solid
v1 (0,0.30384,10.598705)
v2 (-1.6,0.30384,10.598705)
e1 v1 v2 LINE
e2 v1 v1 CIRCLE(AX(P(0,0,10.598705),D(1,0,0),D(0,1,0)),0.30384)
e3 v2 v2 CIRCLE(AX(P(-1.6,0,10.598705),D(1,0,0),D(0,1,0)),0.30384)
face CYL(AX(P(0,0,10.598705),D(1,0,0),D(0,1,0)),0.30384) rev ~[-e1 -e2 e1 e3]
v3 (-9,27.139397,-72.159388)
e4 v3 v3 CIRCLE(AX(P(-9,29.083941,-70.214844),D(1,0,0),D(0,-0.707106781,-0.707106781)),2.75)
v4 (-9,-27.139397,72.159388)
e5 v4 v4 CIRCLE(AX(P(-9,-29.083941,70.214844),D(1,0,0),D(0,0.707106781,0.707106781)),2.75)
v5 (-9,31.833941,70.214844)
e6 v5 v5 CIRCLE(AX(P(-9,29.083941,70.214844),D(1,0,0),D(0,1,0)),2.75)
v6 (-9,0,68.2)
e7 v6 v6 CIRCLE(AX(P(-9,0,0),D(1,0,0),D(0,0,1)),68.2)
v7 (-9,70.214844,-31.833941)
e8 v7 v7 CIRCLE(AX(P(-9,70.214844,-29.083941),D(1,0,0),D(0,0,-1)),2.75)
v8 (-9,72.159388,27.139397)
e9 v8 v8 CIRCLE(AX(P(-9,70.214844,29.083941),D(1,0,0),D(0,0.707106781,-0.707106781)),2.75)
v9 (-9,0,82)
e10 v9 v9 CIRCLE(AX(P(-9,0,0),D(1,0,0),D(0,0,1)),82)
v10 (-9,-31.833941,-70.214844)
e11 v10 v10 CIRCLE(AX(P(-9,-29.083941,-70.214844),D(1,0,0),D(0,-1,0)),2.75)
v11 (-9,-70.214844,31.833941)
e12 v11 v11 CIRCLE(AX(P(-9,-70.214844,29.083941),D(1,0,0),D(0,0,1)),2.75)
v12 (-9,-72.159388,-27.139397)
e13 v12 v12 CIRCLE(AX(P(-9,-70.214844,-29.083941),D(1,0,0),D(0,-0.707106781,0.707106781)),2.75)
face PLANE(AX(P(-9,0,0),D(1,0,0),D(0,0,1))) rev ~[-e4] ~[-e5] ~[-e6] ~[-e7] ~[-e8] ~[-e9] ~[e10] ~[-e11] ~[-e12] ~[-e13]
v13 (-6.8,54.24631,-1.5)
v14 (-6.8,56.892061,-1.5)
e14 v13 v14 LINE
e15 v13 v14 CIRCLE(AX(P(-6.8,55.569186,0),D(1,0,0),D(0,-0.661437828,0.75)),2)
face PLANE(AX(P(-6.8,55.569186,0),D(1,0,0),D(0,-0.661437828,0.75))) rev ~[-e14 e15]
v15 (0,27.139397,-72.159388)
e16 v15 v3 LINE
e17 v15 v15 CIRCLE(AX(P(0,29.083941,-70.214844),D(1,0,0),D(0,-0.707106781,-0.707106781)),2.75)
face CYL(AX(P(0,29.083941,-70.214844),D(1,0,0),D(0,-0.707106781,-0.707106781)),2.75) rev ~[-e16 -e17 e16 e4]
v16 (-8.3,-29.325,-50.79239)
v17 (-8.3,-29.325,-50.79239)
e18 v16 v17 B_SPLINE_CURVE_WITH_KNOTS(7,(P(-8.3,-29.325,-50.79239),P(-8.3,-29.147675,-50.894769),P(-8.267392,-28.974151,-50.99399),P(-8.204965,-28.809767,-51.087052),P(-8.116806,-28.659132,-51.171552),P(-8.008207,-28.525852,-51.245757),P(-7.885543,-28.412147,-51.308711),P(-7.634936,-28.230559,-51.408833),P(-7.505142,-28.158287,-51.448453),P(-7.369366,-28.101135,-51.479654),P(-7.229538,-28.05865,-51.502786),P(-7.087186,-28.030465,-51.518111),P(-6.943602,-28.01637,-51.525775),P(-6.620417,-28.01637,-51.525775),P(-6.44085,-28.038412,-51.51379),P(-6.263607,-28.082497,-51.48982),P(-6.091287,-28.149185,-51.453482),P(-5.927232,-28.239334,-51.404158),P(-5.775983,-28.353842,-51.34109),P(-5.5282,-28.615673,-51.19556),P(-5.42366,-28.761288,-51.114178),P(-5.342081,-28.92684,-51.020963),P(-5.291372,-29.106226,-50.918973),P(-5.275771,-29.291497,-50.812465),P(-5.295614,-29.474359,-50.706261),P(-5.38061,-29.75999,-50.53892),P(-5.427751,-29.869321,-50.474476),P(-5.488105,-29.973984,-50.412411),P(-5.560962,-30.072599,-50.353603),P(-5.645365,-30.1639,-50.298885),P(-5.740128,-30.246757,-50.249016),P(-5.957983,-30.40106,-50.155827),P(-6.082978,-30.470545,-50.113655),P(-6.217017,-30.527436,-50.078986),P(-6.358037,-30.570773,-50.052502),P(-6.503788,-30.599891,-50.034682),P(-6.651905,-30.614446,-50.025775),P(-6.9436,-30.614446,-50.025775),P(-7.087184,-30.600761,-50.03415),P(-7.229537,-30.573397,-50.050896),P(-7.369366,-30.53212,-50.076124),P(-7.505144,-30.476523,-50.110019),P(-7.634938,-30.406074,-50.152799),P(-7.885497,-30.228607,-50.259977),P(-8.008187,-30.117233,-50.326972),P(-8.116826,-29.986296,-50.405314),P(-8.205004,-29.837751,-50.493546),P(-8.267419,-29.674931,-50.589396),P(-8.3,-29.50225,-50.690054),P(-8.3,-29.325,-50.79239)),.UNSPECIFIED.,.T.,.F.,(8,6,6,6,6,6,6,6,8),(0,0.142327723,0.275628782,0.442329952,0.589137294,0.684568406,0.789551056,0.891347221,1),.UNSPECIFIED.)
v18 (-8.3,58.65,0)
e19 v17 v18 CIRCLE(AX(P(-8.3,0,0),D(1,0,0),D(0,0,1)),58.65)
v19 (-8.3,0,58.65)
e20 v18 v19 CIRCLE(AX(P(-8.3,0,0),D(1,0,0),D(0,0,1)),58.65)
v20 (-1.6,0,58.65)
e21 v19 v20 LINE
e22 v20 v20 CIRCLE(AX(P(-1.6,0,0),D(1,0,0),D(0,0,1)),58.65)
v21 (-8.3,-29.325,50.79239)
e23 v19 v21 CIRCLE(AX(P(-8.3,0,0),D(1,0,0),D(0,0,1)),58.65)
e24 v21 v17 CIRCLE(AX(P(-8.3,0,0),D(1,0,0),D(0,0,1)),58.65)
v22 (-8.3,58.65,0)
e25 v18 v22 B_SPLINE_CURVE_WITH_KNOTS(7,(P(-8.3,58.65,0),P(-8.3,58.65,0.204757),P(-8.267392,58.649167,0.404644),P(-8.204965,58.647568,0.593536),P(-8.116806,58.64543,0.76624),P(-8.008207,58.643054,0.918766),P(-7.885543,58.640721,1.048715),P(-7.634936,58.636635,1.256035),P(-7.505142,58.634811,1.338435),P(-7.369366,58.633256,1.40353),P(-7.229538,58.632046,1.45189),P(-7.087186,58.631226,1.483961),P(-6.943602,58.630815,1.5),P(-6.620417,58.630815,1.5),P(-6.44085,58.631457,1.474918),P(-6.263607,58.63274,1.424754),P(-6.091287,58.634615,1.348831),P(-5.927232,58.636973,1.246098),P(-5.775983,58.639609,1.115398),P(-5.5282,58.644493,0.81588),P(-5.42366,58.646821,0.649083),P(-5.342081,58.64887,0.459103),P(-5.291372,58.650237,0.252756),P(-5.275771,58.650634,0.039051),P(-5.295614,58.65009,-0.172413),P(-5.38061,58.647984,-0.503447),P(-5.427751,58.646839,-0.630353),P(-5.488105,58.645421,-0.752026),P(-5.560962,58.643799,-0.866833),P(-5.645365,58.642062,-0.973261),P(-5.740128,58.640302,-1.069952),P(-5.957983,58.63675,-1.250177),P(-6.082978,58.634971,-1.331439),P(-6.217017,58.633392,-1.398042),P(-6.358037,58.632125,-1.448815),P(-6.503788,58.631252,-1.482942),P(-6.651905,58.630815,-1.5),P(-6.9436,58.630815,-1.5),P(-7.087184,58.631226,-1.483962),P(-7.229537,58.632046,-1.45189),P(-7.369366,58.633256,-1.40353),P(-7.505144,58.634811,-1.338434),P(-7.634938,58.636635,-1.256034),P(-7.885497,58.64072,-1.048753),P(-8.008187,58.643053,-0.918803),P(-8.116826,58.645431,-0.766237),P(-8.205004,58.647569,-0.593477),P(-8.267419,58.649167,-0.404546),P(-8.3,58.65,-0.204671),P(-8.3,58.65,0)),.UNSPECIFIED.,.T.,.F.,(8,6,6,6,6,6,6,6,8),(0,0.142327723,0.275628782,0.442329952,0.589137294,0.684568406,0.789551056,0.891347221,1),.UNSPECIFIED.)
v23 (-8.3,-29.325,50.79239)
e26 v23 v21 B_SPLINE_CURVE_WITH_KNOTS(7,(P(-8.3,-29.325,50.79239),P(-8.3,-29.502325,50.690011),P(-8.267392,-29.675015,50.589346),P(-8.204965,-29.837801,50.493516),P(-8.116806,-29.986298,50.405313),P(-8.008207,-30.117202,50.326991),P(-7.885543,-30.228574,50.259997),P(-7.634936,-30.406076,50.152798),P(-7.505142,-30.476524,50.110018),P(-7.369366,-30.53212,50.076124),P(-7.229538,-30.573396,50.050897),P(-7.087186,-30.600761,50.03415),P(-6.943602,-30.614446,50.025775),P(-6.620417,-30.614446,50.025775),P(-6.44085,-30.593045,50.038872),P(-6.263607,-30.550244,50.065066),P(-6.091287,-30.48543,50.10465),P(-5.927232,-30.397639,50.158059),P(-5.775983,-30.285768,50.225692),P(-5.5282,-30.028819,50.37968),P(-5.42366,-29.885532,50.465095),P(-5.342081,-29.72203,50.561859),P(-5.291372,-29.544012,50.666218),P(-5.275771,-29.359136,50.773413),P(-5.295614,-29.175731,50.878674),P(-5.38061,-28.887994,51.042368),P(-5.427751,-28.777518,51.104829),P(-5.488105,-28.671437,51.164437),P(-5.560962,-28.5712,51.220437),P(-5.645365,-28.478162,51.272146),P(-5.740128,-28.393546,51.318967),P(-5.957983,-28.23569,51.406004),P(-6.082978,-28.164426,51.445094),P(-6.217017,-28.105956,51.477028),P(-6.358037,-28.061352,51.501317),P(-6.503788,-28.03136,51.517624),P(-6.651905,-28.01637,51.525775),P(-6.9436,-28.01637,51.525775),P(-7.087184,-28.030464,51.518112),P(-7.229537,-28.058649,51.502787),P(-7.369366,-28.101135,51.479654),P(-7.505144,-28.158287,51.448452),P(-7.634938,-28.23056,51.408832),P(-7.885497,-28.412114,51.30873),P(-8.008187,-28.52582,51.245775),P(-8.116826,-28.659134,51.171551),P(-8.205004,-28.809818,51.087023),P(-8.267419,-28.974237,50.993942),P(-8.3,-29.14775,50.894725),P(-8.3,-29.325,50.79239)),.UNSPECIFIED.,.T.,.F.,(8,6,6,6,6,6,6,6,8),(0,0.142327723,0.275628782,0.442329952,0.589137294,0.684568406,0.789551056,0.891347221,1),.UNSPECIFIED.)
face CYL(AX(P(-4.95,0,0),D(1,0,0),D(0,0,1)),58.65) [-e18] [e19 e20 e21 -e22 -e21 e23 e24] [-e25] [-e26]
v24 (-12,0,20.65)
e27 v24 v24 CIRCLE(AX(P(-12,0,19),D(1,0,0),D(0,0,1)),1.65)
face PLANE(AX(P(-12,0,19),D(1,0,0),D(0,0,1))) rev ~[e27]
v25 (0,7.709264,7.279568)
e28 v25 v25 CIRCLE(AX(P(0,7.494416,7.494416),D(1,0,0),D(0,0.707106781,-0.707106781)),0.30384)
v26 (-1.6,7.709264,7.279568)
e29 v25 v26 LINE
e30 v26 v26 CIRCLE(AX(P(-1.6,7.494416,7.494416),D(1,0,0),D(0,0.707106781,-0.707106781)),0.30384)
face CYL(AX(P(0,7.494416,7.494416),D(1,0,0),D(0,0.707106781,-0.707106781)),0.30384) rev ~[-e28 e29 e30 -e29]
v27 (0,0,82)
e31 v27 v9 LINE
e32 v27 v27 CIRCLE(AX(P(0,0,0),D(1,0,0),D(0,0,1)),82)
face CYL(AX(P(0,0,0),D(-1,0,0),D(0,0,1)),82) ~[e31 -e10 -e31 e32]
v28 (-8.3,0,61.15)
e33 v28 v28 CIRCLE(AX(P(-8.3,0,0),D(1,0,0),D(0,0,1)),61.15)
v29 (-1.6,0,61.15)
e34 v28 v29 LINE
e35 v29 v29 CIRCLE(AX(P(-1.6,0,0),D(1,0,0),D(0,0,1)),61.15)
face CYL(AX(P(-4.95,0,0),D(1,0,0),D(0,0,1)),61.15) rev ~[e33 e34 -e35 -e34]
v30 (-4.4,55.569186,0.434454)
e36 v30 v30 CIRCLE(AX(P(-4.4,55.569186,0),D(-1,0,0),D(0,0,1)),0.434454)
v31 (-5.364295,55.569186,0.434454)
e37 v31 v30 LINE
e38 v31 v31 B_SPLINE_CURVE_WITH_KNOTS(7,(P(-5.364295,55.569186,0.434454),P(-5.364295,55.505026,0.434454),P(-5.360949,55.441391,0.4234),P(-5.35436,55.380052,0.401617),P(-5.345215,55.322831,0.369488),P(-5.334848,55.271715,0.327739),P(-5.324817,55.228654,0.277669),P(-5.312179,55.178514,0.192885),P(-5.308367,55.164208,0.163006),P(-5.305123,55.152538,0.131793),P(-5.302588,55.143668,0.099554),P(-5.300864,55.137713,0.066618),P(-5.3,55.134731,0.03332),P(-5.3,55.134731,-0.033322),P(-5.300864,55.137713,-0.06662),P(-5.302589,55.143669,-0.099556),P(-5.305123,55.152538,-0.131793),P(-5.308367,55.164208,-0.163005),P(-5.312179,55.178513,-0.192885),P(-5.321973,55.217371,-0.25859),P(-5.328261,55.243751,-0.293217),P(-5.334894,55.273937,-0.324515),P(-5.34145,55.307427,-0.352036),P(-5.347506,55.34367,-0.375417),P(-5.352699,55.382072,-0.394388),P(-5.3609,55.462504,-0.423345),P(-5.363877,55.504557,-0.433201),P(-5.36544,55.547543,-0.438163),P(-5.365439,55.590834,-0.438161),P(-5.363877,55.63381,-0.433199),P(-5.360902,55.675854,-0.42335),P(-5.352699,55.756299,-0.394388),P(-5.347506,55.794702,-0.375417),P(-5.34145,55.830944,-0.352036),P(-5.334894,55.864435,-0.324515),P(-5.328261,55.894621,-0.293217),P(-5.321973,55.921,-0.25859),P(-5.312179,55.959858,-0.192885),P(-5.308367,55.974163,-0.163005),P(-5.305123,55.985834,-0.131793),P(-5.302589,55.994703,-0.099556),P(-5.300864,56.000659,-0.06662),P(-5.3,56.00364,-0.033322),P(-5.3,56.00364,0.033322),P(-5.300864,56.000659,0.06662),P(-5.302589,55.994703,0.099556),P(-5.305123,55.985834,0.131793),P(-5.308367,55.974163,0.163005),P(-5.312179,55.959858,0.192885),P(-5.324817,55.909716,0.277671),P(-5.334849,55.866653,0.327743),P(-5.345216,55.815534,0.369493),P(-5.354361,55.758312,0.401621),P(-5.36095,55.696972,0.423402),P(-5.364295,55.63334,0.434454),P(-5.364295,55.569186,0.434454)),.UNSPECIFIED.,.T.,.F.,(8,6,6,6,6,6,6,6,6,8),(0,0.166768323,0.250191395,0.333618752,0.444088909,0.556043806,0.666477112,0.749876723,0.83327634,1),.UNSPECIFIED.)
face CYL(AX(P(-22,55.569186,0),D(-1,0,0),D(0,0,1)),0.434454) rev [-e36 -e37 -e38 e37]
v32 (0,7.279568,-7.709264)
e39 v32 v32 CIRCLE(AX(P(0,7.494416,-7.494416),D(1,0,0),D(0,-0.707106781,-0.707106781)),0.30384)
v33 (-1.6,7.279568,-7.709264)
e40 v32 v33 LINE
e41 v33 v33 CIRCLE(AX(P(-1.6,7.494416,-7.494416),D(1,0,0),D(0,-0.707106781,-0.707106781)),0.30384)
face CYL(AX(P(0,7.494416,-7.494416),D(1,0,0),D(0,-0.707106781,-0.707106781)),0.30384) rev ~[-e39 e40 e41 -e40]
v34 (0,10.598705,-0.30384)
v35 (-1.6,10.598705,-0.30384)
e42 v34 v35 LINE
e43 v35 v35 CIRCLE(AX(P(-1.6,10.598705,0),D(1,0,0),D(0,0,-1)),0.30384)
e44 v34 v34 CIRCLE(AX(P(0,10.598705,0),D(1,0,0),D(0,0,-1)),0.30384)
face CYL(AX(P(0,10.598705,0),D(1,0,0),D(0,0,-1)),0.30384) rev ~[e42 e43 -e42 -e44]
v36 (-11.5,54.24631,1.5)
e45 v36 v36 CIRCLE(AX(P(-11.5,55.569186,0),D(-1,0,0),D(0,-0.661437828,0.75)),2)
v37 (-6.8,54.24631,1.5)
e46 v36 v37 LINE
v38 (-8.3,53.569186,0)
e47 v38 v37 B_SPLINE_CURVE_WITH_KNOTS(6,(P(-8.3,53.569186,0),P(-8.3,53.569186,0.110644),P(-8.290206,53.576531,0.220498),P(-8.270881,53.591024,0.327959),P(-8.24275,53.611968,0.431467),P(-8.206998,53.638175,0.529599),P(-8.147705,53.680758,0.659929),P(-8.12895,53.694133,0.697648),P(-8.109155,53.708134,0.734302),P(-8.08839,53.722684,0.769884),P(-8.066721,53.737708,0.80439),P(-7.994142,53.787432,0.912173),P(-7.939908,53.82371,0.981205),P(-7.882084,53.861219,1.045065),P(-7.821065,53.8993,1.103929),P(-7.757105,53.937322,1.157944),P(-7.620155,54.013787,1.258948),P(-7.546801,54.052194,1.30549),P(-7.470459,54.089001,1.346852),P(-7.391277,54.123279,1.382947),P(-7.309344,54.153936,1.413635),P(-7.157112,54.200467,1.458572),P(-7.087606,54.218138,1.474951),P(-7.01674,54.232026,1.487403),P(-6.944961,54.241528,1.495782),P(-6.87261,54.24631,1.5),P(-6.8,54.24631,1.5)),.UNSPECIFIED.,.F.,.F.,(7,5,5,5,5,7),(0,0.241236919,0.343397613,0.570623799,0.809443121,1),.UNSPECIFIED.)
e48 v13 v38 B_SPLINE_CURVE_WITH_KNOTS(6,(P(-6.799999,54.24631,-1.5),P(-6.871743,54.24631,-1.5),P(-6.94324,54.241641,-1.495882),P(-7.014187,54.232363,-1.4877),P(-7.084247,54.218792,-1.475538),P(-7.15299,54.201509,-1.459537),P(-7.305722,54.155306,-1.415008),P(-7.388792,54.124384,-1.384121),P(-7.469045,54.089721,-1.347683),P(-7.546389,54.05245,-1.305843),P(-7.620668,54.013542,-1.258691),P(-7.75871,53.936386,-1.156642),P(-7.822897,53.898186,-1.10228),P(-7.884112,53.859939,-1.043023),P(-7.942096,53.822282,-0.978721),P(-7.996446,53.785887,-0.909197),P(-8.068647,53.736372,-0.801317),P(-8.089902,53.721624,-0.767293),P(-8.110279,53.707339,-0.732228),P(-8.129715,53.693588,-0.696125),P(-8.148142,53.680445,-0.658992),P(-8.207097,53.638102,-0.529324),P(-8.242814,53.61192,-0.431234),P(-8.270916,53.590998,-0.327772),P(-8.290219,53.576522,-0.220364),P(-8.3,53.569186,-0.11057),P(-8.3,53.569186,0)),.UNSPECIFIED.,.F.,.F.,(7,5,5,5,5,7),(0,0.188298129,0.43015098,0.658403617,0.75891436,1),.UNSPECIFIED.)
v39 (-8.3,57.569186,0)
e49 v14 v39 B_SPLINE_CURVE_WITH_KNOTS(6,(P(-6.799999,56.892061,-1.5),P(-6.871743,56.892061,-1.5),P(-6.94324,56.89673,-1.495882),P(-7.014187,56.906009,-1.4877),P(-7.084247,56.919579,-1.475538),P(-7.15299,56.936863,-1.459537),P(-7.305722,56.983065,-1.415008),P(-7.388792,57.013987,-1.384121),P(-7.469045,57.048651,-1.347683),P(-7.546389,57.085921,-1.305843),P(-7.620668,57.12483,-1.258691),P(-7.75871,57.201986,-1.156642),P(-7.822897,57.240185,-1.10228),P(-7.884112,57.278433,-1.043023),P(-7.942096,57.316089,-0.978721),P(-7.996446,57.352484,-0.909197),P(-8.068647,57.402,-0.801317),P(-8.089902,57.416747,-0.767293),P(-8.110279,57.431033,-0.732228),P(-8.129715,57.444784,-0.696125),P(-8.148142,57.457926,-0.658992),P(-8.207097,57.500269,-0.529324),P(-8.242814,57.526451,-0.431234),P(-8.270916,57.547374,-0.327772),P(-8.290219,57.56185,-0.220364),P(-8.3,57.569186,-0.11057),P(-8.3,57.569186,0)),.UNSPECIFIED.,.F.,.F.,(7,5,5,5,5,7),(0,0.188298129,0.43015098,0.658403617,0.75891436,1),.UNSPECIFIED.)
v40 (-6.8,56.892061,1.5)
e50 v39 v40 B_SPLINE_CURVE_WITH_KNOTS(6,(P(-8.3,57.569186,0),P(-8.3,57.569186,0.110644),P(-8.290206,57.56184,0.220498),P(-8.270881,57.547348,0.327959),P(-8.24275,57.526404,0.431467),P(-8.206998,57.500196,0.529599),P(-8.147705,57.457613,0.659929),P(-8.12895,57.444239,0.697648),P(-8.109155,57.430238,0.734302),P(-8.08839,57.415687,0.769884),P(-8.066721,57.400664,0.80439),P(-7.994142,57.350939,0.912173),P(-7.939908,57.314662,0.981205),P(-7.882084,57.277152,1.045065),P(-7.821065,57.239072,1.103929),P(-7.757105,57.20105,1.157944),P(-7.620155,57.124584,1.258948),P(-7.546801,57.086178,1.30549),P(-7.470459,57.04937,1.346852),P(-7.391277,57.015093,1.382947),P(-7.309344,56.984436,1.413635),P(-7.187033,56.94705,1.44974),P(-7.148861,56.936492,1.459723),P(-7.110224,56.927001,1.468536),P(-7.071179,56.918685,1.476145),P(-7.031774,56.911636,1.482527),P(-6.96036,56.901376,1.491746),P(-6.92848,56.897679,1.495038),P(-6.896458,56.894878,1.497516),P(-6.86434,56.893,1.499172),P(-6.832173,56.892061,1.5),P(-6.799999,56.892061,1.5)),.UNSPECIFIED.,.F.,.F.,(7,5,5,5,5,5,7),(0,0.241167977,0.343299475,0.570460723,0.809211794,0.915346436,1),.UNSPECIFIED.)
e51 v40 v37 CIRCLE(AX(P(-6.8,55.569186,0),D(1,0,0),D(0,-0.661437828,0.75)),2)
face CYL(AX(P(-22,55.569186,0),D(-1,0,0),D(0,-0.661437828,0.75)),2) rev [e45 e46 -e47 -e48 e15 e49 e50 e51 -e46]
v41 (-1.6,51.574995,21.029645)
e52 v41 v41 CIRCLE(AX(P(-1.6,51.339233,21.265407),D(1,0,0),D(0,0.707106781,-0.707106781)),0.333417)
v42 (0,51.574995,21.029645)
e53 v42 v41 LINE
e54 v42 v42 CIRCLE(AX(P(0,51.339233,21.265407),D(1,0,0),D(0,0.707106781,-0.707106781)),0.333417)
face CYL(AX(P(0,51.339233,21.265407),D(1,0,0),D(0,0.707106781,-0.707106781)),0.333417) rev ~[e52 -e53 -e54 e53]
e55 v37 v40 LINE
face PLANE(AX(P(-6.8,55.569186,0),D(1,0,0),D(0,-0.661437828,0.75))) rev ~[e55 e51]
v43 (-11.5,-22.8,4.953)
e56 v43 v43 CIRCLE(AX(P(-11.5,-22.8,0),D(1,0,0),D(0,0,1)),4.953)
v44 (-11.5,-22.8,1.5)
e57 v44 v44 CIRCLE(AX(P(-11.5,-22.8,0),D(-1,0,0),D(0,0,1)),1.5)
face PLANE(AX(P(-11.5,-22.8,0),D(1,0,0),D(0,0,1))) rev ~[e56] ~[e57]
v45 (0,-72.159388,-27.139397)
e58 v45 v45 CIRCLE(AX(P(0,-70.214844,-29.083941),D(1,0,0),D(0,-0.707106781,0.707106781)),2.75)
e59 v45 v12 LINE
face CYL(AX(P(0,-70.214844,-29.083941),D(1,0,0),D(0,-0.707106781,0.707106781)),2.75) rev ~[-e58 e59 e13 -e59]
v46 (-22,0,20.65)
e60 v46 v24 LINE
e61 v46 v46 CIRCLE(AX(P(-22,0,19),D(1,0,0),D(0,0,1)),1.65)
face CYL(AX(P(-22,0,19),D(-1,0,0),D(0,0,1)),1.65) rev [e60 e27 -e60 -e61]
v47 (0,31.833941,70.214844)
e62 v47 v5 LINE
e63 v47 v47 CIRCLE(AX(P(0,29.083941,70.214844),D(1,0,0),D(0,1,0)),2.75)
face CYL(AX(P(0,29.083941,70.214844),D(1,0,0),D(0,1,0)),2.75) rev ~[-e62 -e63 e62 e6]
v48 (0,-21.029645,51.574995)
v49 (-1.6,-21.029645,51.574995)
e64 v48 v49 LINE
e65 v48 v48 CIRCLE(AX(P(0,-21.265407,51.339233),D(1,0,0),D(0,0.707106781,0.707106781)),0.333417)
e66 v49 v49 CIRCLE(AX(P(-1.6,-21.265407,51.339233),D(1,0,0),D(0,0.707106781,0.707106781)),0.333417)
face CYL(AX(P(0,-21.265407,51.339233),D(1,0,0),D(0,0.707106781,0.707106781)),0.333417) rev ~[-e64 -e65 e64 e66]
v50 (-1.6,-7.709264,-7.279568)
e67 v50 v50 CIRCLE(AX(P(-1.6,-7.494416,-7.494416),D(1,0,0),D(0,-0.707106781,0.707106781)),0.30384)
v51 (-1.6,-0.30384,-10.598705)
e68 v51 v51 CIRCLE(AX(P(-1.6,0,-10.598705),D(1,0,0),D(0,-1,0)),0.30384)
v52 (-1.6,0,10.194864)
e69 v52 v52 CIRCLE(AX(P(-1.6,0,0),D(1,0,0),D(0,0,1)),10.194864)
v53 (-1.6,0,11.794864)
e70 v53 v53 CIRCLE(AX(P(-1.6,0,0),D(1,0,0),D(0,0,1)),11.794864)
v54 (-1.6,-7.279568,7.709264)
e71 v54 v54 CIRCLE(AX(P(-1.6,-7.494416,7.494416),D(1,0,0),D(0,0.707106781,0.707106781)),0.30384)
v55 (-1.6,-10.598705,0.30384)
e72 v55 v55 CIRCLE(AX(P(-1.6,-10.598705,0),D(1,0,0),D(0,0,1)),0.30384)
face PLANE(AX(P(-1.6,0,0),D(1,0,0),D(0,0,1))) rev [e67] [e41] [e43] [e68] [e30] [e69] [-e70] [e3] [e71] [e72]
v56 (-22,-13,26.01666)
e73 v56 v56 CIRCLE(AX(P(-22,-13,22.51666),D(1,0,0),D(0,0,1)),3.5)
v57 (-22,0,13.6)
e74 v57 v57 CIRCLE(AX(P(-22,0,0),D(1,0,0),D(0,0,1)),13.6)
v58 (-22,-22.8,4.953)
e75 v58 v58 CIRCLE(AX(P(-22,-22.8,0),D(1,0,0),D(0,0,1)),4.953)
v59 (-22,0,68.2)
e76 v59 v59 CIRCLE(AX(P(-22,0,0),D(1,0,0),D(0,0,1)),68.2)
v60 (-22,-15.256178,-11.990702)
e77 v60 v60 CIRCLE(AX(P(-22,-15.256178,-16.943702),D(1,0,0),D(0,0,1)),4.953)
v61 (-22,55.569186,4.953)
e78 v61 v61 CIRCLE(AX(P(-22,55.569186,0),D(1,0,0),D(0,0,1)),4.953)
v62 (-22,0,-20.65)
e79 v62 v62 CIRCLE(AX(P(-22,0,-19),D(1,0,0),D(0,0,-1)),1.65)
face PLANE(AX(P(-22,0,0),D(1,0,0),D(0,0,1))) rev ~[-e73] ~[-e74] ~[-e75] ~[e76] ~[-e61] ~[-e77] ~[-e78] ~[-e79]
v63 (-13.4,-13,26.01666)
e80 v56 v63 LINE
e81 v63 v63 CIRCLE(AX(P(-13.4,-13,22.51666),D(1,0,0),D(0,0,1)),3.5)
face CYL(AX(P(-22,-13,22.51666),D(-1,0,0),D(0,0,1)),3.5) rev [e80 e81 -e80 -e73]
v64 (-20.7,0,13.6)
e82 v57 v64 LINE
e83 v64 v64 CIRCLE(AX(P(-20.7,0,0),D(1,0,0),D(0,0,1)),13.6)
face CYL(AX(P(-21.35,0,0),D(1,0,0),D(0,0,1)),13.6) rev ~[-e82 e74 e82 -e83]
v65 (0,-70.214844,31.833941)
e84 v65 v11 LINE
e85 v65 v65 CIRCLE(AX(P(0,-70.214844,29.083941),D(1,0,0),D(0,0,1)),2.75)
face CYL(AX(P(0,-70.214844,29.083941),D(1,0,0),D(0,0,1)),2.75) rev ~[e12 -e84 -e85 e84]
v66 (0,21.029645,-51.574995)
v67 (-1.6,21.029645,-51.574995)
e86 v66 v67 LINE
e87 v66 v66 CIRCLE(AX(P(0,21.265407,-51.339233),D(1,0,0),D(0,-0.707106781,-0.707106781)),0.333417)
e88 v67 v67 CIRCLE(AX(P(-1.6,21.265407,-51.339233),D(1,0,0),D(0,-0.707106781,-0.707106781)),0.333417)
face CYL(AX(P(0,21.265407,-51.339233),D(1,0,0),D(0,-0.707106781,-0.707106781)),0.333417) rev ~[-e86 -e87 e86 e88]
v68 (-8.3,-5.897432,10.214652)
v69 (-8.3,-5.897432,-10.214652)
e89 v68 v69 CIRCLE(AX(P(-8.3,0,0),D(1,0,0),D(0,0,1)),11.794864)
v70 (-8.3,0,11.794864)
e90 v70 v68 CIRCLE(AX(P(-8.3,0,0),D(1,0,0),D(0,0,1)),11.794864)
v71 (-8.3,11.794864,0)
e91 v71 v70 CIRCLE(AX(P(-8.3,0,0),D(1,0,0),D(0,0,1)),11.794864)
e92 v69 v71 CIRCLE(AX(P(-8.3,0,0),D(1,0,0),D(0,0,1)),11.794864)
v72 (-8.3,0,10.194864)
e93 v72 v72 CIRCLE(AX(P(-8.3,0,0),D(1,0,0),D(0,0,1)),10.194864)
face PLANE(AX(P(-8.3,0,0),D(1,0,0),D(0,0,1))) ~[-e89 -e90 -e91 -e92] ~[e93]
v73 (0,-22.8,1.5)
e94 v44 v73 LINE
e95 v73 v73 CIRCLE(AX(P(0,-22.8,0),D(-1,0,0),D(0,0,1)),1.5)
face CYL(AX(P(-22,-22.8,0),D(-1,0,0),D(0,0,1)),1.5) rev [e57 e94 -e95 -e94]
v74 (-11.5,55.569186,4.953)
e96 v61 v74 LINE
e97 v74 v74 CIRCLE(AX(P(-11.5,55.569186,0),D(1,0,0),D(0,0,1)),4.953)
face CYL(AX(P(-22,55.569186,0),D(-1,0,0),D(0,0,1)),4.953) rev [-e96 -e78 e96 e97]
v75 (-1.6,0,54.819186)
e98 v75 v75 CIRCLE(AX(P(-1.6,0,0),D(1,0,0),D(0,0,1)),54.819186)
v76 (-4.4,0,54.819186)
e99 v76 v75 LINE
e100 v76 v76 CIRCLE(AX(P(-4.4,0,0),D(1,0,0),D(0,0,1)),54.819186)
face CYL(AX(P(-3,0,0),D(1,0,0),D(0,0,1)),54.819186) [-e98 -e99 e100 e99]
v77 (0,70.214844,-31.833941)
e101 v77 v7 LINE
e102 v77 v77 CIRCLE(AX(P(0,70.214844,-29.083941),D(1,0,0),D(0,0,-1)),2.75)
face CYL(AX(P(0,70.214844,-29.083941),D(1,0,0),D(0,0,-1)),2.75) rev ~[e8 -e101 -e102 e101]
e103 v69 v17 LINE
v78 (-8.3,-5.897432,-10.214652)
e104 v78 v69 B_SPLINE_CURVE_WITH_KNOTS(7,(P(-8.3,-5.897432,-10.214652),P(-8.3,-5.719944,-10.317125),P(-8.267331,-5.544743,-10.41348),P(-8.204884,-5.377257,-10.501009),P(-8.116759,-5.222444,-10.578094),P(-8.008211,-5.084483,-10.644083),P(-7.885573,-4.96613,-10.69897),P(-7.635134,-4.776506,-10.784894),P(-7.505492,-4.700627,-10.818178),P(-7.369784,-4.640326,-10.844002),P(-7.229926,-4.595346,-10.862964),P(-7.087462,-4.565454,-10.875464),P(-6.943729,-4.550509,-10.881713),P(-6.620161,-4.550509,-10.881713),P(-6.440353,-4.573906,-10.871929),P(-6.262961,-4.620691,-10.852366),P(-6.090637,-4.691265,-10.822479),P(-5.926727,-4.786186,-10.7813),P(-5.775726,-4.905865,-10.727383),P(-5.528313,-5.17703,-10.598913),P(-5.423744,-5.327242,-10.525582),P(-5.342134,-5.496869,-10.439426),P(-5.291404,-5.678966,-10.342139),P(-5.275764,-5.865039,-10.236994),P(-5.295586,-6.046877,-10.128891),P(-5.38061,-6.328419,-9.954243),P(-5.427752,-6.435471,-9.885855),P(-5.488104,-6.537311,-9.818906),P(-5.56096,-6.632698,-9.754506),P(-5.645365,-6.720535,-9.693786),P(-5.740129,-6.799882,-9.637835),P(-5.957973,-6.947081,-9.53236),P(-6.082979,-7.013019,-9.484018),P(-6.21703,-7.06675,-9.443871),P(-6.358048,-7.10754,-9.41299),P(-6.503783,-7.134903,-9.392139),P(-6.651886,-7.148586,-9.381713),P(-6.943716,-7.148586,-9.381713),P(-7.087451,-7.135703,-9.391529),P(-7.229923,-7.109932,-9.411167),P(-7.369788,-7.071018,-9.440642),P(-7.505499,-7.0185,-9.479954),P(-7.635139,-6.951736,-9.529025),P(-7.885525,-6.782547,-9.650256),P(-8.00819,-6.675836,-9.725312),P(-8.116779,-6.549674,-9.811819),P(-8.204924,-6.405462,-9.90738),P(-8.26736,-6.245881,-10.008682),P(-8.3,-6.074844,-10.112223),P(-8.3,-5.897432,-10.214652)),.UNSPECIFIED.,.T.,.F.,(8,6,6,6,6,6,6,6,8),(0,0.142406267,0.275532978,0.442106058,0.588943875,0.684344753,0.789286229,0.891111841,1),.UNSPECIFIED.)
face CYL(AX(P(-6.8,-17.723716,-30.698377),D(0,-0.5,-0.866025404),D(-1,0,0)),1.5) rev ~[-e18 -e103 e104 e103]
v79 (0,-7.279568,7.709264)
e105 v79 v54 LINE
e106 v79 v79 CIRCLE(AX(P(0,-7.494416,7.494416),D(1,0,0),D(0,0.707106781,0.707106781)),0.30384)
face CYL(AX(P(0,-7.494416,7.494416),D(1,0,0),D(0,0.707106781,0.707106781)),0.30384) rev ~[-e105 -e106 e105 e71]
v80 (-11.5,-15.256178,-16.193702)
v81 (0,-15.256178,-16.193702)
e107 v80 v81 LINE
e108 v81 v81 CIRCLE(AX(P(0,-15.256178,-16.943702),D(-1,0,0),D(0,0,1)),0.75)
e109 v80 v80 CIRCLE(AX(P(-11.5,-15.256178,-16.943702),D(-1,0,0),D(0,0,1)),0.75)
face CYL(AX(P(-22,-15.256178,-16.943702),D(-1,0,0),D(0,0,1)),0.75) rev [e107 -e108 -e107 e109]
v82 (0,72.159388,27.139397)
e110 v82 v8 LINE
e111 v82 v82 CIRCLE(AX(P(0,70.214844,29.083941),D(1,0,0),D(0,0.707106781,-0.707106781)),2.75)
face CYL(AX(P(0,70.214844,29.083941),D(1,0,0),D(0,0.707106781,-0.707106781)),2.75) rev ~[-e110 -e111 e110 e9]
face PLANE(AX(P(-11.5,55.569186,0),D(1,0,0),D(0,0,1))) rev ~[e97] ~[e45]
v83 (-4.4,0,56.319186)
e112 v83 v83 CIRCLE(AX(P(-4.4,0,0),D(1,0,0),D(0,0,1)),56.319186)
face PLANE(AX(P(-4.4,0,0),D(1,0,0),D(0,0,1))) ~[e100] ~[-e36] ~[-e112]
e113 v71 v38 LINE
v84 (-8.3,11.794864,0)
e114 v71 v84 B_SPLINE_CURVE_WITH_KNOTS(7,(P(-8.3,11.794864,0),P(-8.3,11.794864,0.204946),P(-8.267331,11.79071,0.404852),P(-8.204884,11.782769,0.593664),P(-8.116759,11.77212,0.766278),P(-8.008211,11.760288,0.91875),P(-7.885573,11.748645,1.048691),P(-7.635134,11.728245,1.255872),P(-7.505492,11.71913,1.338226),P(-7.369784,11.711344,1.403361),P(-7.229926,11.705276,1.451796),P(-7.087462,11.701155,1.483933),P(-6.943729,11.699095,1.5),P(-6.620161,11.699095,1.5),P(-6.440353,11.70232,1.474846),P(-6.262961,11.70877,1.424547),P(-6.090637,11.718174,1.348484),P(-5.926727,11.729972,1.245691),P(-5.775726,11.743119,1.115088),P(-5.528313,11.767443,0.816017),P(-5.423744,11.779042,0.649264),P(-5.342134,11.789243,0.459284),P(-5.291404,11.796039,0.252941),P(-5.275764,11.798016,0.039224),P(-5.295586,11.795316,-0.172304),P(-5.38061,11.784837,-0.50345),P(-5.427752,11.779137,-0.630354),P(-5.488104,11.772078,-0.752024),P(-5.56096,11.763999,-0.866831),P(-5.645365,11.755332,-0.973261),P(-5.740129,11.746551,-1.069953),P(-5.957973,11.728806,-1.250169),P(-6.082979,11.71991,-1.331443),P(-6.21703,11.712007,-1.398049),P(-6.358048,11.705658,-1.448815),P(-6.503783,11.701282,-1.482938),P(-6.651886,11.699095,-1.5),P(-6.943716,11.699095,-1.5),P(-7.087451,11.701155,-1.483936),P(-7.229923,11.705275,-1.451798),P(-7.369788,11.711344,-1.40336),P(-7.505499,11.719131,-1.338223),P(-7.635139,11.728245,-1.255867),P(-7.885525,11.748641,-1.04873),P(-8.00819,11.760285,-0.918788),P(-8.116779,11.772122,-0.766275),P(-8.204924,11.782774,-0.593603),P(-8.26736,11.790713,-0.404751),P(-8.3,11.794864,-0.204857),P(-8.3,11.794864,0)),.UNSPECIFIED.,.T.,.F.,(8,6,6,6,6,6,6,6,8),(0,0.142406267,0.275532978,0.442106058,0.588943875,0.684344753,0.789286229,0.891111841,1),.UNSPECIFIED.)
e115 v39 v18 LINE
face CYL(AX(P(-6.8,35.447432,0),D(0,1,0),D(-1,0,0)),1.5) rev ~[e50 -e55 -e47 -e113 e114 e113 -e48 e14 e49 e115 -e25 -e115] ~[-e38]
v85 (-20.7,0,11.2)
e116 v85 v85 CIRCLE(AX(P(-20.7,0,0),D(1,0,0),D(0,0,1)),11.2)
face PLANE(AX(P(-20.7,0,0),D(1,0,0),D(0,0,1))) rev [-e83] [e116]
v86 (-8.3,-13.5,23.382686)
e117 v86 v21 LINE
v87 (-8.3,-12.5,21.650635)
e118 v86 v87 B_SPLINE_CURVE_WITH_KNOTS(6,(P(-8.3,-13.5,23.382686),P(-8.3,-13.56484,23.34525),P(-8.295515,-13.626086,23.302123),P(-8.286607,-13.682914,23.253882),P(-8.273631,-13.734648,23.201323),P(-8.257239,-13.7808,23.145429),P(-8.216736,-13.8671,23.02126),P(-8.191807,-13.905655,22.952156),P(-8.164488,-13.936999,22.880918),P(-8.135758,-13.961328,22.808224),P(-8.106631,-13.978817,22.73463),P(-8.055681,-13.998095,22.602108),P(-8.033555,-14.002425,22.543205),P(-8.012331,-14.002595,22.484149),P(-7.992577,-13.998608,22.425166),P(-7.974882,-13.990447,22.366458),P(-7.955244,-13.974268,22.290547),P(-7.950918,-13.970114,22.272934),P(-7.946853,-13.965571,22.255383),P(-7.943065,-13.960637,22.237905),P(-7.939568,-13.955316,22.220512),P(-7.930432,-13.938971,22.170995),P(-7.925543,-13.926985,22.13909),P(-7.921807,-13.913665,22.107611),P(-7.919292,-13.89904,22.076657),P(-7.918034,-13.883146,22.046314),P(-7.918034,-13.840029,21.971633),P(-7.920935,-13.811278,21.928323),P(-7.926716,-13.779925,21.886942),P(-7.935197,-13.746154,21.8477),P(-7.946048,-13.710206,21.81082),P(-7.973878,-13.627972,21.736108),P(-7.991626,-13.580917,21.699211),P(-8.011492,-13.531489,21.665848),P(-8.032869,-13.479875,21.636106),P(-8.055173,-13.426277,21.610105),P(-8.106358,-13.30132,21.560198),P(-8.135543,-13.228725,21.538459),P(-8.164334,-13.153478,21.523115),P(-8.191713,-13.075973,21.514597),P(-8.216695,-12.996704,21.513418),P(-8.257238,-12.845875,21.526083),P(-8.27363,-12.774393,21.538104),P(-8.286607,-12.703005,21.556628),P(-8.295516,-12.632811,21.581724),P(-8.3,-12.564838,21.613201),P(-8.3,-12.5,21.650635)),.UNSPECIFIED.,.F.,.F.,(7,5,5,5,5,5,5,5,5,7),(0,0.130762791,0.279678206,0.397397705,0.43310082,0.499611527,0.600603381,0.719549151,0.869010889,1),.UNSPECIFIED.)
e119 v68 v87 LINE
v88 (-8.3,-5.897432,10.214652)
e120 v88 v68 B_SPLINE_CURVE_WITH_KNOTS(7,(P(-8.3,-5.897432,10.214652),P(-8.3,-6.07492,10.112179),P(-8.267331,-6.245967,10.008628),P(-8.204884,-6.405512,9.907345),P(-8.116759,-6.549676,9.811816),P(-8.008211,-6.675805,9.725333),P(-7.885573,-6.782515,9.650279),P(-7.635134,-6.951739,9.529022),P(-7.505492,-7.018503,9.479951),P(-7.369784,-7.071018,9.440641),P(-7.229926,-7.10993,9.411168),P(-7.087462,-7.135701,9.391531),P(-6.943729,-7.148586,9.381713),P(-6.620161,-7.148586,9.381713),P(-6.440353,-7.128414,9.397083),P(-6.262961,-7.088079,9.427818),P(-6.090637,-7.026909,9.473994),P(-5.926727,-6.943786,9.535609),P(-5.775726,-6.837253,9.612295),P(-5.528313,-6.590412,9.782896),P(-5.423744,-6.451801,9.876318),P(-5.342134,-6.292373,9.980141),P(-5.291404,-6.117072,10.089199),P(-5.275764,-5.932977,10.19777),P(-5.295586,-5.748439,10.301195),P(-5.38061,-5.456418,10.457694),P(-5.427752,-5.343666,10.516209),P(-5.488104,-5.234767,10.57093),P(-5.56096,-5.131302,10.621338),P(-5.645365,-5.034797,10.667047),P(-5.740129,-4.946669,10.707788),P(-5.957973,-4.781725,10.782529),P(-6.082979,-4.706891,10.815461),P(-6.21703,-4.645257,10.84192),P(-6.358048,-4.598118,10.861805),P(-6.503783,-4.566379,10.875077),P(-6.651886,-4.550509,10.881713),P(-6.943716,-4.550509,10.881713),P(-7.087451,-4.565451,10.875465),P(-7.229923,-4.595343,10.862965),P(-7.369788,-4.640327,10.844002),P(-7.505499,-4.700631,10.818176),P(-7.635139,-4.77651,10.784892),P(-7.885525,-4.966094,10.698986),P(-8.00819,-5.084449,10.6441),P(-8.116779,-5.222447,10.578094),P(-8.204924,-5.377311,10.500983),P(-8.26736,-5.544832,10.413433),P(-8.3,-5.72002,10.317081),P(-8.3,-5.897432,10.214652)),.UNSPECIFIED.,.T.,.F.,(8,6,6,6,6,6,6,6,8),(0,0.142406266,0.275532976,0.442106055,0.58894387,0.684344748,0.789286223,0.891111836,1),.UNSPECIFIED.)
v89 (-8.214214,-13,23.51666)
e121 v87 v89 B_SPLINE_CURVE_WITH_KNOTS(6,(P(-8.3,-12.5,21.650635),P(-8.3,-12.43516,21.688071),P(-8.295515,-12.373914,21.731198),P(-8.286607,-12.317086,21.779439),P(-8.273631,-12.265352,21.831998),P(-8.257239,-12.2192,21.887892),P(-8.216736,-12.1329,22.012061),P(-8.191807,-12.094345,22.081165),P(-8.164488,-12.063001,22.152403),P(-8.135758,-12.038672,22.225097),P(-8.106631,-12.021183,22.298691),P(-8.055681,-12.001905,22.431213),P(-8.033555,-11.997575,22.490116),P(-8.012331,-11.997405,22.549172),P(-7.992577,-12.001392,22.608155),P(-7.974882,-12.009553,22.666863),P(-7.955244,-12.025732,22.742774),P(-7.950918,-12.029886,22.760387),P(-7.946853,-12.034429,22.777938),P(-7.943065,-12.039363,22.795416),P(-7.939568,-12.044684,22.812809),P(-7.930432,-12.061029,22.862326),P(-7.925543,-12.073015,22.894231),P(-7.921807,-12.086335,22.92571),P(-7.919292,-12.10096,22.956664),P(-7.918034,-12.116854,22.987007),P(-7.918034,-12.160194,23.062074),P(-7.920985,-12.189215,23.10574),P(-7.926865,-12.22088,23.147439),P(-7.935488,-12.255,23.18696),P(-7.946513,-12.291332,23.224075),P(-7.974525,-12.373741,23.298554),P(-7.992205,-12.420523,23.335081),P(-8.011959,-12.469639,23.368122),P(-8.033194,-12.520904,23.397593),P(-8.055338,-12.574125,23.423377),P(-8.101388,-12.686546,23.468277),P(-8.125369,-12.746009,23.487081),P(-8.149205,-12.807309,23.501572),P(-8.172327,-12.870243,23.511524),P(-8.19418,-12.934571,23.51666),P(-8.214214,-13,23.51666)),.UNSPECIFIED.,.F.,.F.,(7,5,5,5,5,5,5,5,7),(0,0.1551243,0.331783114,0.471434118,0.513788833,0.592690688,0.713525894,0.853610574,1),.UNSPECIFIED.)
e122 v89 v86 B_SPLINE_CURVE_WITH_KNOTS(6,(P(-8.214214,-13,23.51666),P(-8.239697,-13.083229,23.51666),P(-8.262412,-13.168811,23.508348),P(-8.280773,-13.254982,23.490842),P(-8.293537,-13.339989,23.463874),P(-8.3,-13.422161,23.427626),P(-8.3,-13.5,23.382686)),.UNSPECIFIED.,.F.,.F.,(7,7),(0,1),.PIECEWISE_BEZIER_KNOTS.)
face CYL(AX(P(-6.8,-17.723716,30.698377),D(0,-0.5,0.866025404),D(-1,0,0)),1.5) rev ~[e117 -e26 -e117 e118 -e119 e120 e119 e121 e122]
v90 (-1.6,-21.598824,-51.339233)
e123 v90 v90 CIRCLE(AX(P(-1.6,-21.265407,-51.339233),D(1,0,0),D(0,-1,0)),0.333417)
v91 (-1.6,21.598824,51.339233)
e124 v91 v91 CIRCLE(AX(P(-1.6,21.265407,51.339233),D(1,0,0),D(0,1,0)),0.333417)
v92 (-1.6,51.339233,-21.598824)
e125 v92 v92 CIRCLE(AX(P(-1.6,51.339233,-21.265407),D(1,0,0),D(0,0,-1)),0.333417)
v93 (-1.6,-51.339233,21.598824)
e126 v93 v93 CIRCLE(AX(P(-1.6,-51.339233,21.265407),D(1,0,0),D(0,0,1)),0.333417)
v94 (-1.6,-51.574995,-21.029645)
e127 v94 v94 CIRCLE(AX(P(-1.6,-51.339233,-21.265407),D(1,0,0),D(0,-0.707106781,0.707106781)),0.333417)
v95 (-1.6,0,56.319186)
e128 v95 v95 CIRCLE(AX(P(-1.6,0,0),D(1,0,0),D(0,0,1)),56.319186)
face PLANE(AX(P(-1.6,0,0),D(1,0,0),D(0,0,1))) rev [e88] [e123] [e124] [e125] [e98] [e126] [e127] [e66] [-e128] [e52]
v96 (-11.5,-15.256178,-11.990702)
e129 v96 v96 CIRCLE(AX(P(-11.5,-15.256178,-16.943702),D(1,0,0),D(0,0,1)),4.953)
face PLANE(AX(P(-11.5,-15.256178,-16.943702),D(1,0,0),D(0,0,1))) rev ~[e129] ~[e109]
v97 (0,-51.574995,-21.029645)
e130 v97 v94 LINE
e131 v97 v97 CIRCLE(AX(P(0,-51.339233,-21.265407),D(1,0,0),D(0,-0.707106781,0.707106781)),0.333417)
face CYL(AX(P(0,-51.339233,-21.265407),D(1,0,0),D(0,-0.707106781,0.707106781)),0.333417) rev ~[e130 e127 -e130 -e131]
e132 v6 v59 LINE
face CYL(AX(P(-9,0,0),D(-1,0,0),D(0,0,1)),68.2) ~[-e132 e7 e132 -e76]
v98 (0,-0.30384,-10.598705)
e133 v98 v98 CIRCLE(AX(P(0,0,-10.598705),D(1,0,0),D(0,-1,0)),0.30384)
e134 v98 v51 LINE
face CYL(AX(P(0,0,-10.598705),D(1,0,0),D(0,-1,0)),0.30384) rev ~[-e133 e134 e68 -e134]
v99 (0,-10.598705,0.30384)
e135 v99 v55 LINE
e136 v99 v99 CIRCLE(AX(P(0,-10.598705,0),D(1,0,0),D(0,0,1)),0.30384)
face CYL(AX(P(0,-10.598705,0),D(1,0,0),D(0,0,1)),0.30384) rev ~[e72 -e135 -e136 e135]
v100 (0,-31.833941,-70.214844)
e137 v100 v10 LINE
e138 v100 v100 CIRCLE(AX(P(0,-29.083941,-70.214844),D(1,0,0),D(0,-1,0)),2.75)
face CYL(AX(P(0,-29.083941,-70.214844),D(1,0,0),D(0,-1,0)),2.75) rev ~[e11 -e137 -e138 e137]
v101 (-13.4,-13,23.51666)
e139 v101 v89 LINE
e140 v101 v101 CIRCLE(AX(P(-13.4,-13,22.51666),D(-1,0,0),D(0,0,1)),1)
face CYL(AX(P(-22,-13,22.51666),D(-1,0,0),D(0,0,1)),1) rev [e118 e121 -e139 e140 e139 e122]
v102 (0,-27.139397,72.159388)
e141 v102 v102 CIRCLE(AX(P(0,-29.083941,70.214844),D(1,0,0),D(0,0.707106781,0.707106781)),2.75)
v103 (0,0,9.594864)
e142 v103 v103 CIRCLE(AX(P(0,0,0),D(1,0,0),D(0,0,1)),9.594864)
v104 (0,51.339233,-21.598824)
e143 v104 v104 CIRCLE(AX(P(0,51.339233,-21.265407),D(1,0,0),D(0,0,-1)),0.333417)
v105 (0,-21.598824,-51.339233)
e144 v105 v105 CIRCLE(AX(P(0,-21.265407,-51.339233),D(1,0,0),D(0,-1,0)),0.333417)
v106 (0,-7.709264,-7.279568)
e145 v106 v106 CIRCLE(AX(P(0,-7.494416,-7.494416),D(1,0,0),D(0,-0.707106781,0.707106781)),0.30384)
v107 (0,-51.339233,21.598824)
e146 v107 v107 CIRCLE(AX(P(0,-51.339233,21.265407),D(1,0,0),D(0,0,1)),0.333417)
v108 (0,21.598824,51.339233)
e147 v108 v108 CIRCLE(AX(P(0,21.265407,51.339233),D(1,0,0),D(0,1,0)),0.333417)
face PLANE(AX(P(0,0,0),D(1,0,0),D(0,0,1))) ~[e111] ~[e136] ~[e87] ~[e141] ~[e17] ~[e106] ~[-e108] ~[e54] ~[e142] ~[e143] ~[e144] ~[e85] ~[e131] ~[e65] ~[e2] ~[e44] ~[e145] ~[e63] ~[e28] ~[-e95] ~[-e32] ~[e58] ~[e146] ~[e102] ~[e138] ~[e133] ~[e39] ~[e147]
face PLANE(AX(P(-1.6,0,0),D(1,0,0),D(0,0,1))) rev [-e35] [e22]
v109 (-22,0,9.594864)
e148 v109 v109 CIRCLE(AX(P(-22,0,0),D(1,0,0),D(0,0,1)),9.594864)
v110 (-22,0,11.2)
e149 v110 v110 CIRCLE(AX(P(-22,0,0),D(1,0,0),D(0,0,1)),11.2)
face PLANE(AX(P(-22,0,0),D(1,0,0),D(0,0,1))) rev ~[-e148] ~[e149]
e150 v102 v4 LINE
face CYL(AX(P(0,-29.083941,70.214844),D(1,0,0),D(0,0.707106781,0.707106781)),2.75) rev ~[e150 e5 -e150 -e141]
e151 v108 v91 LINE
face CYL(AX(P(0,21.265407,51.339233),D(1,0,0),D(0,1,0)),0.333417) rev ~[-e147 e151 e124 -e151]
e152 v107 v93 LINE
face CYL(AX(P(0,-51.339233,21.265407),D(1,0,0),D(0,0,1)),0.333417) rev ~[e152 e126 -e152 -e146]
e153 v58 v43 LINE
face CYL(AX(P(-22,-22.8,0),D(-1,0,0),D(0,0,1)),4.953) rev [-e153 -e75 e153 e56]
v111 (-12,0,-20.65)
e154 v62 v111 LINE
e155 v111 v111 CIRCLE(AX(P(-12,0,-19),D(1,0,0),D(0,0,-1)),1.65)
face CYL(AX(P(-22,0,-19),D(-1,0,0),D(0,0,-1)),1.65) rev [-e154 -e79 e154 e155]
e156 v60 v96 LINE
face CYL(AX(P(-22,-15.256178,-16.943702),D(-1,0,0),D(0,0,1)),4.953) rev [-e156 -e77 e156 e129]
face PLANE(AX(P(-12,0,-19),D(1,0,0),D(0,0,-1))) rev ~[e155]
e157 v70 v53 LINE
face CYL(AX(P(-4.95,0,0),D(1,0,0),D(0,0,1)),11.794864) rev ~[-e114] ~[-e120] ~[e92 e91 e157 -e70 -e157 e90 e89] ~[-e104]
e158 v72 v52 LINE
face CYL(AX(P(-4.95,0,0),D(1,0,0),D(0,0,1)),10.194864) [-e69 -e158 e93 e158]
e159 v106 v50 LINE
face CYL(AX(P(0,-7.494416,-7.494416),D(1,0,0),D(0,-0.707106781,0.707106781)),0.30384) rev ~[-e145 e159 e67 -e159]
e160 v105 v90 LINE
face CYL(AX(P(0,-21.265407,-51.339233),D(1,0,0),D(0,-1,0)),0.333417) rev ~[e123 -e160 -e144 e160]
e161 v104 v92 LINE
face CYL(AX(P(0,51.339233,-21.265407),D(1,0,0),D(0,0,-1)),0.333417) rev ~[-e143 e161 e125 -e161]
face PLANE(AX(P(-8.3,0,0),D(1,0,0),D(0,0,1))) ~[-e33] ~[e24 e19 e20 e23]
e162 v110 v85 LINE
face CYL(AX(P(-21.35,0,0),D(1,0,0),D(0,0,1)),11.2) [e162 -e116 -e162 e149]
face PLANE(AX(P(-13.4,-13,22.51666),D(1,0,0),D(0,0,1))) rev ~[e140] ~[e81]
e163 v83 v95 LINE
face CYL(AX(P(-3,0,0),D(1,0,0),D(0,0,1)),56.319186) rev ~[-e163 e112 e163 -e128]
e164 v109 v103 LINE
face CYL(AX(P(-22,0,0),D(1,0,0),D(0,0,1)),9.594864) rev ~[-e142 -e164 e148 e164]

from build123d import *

# Parameters (mm, degrees)
FUEL_RING_SKETCH_W                = 6.7
FUEL_RING_SKETCH_H                = 2.5
CORE_MANIFOLD_SKETCH_W            = 6.7
CORE_MANIFOLD_SKETCH_H            = 1.6
FILM_MANIFOLD_SKETCH_W            = 2.8
FILM_MANIFOLD_SKETCH_H            = 1.5
PINTLE_SEAL_GROOVE_SKETCH_W       = 1.3
PINTLE_SEAL_GROOVE_SKETCH_H       = 2.4
FEED_PASSAGE_SKETCH_W             = 1.5
FEED_PASSAGE_SKETCH_H             = 48.905135707
FEED_PASSAGES_X3_COUNT            = 3
ETHANOL_HOLE_SKETCH_R             = 0.303840419
ETHANOL_HOLE_DEPTH                = 1.8
ETHANOL_HOLES_X8_COUNT            = 8
FILM_HOLE_SKETCH_R                = 0.333416852
FILM_HOLE_DEPTH                   = 1.8
FILM_HOLES_X8_COUNT               = 8
BOLT_HOLE_SKETCH_R                = 2.75
BOLT_HOLE_DEPTH                   = 9
BOLT_HOLES_X8_COUNT               = 8
IGNITER_PORT_4_ORB_SKETCH_R       = 4.953
IGNITER_PORT_4_ORB_DEPTH          = 10.5
IGNITER_PASSAGE_SKETCH_R          = 1.5
IGNITER_PASSAGE_DEPTH             = 22.5
PC_TAP_PORT_4_ORB_SKETCH_R        = 4.953
PC_TAP_PORT_4_ORB_DEPTH           = 10.5
PC_TAP_PASSAGE_SKETCH_R           = 0.75
PC_TAP_PASSAGE_DEPTH              = 22.5
ETHANOL_INLET_PORT_4_ORB_SKETCH_R = 4.953
ETHANOL_INLET_PORT_4_ORB_DEPTH    = 10.5
ETHANOL_INLET_PASSAGE_SKETCH_R    = 2
ETHANOL_INLET_PASSAGE_DEPTH       = 15.2
FILM_RESTRICTOR_SKETCH_R          = 0.434454496
FILM_RESTRICTOR_DEPTH             = 18.16
PINTLE_BOLT_TAP_DRILL_M4_SKETCH_R = 1.65
PINTLE_BOLT_TAP_DRILL_M4_DEPTH    = 10
PINTLE_BOLT_HOLES_X2_COUNT        = 2
TORCH_ETHANOL_PORT_SKETCH_R       = 3.5
TORCH_ETHANOL_PORT_DEPTH          = 8.6
TORCH_ETHANOL_DRILLING_SKETCH_R   = 1
TORCH_ETHANOL_DRILLING_DEPTH      = 15.2


with BuildPart() as part:
    # Body Sketch → Body (revolve)
    with BuildSketch(Plane.XY, mode=Mode.PRIVATE) as body_sk:
        Polygon((0, 9.594864293), (0, 82), (-9, 82), (-9, 68.2), (-22, 68.2), (-22, 9.594864293), align=None)
    revolve(body_sk.sketch.rotate(Axis((-60, 0, 0), (1, 0, 0)), 90), axis=Axis((-60, 0, 0), (1, 0, 0)))

    # Fuel Ring Sketch → Fuel Ring (revolve, cut)
    with BuildSketch(Plane.XY, mode=Mode.PRIVATE) as fuel_ring_sk:
        with Locations((-4.95, 59.9)):
            Rectangle(FUEL_RING_SKETCH_W, FUEL_RING_SKETCH_H)
    revolve(fuel_ring_sk.sketch.rotate(Axis((-60, 0, 0), (1, 0, 0)), 90), axis=Axis((-60, 0, 0), (1, 0, 0)), mode=Mode.SUBTRACT)

    # Core Manifold Sketch → Core Manifold (revolve, cut)
    with BuildSketch(Plane.XY, mode=Mode.PRIVATE) as core_manifold_sk:
        with Locations((-4.95, 10.994864293)):
            Rectangle(CORE_MANIFOLD_SKETCH_W, CORE_MANIFOLD_SKETCH_H)
    revolve(core_manifold_sk.sketch.rotate(Axis((-60, 0, 0), (1, 0, 0)), 90), axis=Axis((-60, 0, 0), (1, 0, 0)), mode=Mode.SUBTRACT)

    # Film Manifold Sketch → Film Manifold (revolve, cut)
    with BuildSketch(Plane.XY, mode=Mode.PRIVATE) as film_manifold_sk:
        with Locations((-3, 55.56918576)):
            Rectangle(FILM_MANIFOLD_SKETCH_W, FILM_MANIFOLD_SKETCH_H)
    revolve(film_manifold_sk.sketch.rotate(Axis((-60, 0, 0), (1, 0, 0)), 90), axis=Axis((-60, 0, 0), (1, 0, 0)), mode=Mode.SUBTRACT)

    # Pintle Seal Groove Sketch → Pintle Seal Groove (revolve, cut)
    with BuildSketch(Plane.XY, mode=Mode.PRIVATE) as pintle_seal_groove_sk:
        with Locations((-21.35, 12.4)):
            Rectangle(PINTLE_SEAL_GROOVE_SKETCH_W, PINTLE_SEAL_GROOVE_SKETCH_H)
    revolve(pintle_seal_groove_sk.sketch.rotate(Axis((-60, 0, 0), (1, 0, 0)), 90), axis=Axis((-60, 0, 0), (1, 0, 0)), mode=Mode.SUBTRACT)

    # Feed Passage Sketch → Feed Passage (revolve, cut)
    with BuildSketch(Plane.XY, mode=Mode.PRIVATE) as feed_passage_sk:
        with Locations((-6.05, 35.447432147)):
            Rectangle(FEED_PASSAGE_SKETCH_W, FEED_PASSAGE_SKETCH_H)
    feed_passage = revolve(feed_passage_sk.sketch.rotate(Axis((-6.8, 0, 0), (0, 1, 0)), 180), axis=Axis((-6.8, 0, 0), (0, 1, 0)), mode=Mode.SUBTRACT)

    # Feed Passages x3: Feed Passage ×3 about axis
    feed_passages_x3_axis = Axis((1.1, 0, 0), (-1, 0, 0))
    for i in range(1, FEED_PASSAGES_X3_COUNT):
        add(feed_passage.rotate(feed_passages_x3_axis, i * 360 / FEED_PASSAGES_X3_COUNT), mode=Mode.SUBTRACT)

    # Ethanol Hole Sketch → Ethanol Hole (cut)
    with BuildSketch(Plane(origin=(0, 0, 0), x_dir=(0, 0, -1), z_dir=(1, 0, 0))):
        with Locations((0, 10.598704712)):
            Circle(ETHANOL_HOLE_SKETCH_R)
    ethanol_hole = extrude(amount=-ETHANOL_HOLE_DEPTH, mode=Mode.SUBTRACT)

    # Ethanol Holes x8: Ethanol Hole ×8 about axis
    ethanol_holes_x8_axis = Axis((0, 0, 0), (1, 0, 0))
    for i in range(1, ETHANOL_HOLES_X8_COUNT):
        add(ethanol_hole.rotate(ethanol_holes_x8_axis, i * 360 / ETHANOL_HOLES_X8_COUNT), mode=Mode.SUBTRACT)

    # Film Hole Sketch → Film Hole (cut)
    with BuildSketch(Plane(origin=(0, 0, 0), x_dir=(0, 0, -1), z_dir=(1, 0, 0))):
        with Locations((21.26540674, 51.339233362)):
            Circle(FILM_HOLE_SKETCH_R)
    film_hole = extrude(amount=-FILM_HOLE_DEPTH, mode=Mode.SUBTRACT)

    # Film Holes x8: Film Hole ×8 about axis
    film_holes_x8_axis = Axis((0, 0, 0), (1, 0, 0))
    for i in range(1, FILM_HOLES_X8_COUNT):
        add(film_hole.rotate(film_holes_x8_axis, i * 360 / FILM_HOLES_X8_COUNT), mode=Mode.SUBTRACT)

    # Bolt Hole Sketch → Bolt Hole (cut)
    with BuildSketch(Plane(origin=(0, 0, 0), x_dir=(0, 0, -1), z_dir=(1, 0, 0))):
        with Locations((29.08394086, 70.214844471)):
            Circle(BOLT_HOLE_SKETCH_R)
    bolt_hole = extrude(amount=-BOLT_HOLE_DEPTH, mode=Mode.SUBTRACT)

    # Bolt Holes x8: Bolt Hole ×8 about axis
    bolt_holes_x8_axis = Axis((0, 0, 0), (1, 0, 0))
    for i in range(1, BOLT_HOLES_X8_COUNT):
        add(bolt_hole.rotate(bolt_holes_x8_axis, i * 360 / BOLT_HOLES_X8_COUNT), mode=Mode.SUBTRACT)

    # Igniter Port (-4 ORB) Sketch → Igniter Port (-4 ORB) (cut)
    with BuildSketch(Plane(origin=(-22, 0, 0), x_dir=(0, 0, -1), z_dir=(1, 0, 0))):
        with Locations(Location((0, -22.8, 0), (0, 0, 180))):
            Circle(IGNITER_PORT_4_ORB_SKETCH_R)
    extrude(amount=IGNITER_PORT_4_ORB_DEPTH, mode=Mode.SUBTRACT)

    # Igniter Passage Sketch → Igniter Passage (cut)
    with BuildSketch(Plane(origin=(-22, 0, 0), x_dir=(0, 0, -1), z_dir=(1, 0, 0))):
        with Locations(Location((0, -22.8, 0), (0, 0, 180))):
            Circle(IGNITER_PASSAGE_SKETCH_R)
    extrude(amount=IGNITER_PASSAGE_DEPTH, mode=Mode.SUBTRACT)

    # Pc Tap Port (-4 ORB) Sketch → Pc Tap Port (-4 ORB) (cut)
    with BuildSketch(Plane(origin=(-22, 0, 0), x_dir=(0, 0, -1), z_dir=(1, 0, 0))):
        with Locations(Location((16.943702021, -15.256177825, 0), (0, 0, 180))):
            Circle(PC_TAP_PORT_4_ORB_SKETCH_R)
    extrude(amount=PC_TAP_PORT_4_ORB_DEPTH, mode=Mode.SUBTRACT)

    # Pc Tap Passage Sketch → Pc Tap Passage (cut)
    with BuildSketch(Plane(origin=(-22, 0, 0), x_dir=(0, 0, -1), z_dir=(1, 0, 0))):
        with Locations(Location((16.943702021, -15.256177825, 0), (0, 0, 180))):
            Circle(PC_TAP_PASSAGE_SKETCH_R)
    extrude(amount=PC_TAP_PASSAGE_DEPTH, mode=Mode.SUBTRACT)

    # Ethanol Inlet Port (-4 ORB) Sketch → Ethanol Inlet Port (-4 ORB) (cut)
    with BuildSketch(Plane(origin=(-22, 0, 0), x_dir=(0, 0, -1), z_dir=(1, 0, 0))):
        with Locations(Location((0, 55.56918576, 0), (0, 0, 180))):
            Circle(ETHANOL_INLET_PORT_4_ORB_SKETCH_R)
    extrude(amount=ETHANOL_INLET_PORT_4_ORB_DEPTH, mode=Mode.SUBTRACT)

    # Ethanol Inlet Passage Sketch → Ethanol Inlet Passage (cut)
    with BuildSketch(Plane(origin=(-22, 0, 0), x_dir=(0, 0, -1), z_dir=(1, 0, 0))):
        with Locations(Location((0, 55.56918576, 0), (0, 0, 221.409622109))):
            Circle(ETHANOL_INLET_PASSAGE_SKETCH_R)
    extrude(amount=ETHANOL_INLET_PASSAGE_DEPTH, mode=Mode.SUBTRACT)

    # Film Restrictor Sketch → Film Restrictor (cut)
    with BuildSketch(Plane(origin=(-22, 0, 0), x_dir=(0, 0, -1), z_dir=(1, 0, 0))):
        with Locations(Location((0, 55.56918576, 0), (0, 0, 180))):
            Circle(FILM_RESTRICTOR_SKETCH_R)
    extrude(amount=FILM_RESTRICTOR_DEPTH, mode=Mode.SUBTRACT)

    # Pintle Bolt Tap Drill (M4) Sketch → Pintle Bolt Tap Drill (M4) (cut)
    with BuildSketch(Plane(origin=(-22, 0, 0), x_dir=(0, 0, -1), z_dir=(1, 0, 0))):
        with Locations((19, 0)):
            Circle(PINTLE_BOLT_TAP_DRILL_M4_SKETCH_R)
    pintle_bolt_tap_drill_m4 = extrude(amount=PINTLE_BOLT_TAP_DRILL_M4_DEPTH, mode=Mode.SUBTRACT)

    # Pintle Bolt Holes x2: Pintle Bolt Tap Drill (M4) ×2 about axis
    pintle_bolt_holes_x2_axis = Axis((0, 0, 0), (1, 0, 0))
    for i in range(1, PINTLE_BOLT_HOLES_X2_COUNT):
        add(pintle_bolt_tap_drill_m4.rotate(pintle_bolt_holes_x2_axis, i * 360 / PINTLE_BOLT_HOLES_X2_COUNT), mode=Mode.SUBTRACT)

    # Torch Ethanol Port Sketch → Torch Ethanol Port (cut)
    with BuildSketch(Plane(origin=(-22, 0, 0), x_dir=(0, 0, -1), z_dir=(1, 0, 0))):
        with Locations(Location((-22.516660498, -13, 0), (0, 0, 180))):
            Circle(TORCH_ETHANOL_PORT_SKETCH_R)
    extrude(amount=TORCH_ETHANOL_PORT_DEPTH, mode=Mode.SUBTRACT)

    # Torch Ethanol Drilling Sketch → Torch Ethanol Drilling (cut)
    with BuildSketch(Plane(origin=(-22, 0, 0), x_dir=(0, 0, -1), z_dir=(1, 0, 0))):
        with Locations(Location((-22.516660498, -13, 0), (0, 0, 180))):
            Circle(TORCH_ETHANOL_DRILLING_SKETCH_R)
    extrude(amount=TORCH_ETHANOL_DRILLING_DEPTH, mode=Mode.SUBTRACT)


solid = part.part
